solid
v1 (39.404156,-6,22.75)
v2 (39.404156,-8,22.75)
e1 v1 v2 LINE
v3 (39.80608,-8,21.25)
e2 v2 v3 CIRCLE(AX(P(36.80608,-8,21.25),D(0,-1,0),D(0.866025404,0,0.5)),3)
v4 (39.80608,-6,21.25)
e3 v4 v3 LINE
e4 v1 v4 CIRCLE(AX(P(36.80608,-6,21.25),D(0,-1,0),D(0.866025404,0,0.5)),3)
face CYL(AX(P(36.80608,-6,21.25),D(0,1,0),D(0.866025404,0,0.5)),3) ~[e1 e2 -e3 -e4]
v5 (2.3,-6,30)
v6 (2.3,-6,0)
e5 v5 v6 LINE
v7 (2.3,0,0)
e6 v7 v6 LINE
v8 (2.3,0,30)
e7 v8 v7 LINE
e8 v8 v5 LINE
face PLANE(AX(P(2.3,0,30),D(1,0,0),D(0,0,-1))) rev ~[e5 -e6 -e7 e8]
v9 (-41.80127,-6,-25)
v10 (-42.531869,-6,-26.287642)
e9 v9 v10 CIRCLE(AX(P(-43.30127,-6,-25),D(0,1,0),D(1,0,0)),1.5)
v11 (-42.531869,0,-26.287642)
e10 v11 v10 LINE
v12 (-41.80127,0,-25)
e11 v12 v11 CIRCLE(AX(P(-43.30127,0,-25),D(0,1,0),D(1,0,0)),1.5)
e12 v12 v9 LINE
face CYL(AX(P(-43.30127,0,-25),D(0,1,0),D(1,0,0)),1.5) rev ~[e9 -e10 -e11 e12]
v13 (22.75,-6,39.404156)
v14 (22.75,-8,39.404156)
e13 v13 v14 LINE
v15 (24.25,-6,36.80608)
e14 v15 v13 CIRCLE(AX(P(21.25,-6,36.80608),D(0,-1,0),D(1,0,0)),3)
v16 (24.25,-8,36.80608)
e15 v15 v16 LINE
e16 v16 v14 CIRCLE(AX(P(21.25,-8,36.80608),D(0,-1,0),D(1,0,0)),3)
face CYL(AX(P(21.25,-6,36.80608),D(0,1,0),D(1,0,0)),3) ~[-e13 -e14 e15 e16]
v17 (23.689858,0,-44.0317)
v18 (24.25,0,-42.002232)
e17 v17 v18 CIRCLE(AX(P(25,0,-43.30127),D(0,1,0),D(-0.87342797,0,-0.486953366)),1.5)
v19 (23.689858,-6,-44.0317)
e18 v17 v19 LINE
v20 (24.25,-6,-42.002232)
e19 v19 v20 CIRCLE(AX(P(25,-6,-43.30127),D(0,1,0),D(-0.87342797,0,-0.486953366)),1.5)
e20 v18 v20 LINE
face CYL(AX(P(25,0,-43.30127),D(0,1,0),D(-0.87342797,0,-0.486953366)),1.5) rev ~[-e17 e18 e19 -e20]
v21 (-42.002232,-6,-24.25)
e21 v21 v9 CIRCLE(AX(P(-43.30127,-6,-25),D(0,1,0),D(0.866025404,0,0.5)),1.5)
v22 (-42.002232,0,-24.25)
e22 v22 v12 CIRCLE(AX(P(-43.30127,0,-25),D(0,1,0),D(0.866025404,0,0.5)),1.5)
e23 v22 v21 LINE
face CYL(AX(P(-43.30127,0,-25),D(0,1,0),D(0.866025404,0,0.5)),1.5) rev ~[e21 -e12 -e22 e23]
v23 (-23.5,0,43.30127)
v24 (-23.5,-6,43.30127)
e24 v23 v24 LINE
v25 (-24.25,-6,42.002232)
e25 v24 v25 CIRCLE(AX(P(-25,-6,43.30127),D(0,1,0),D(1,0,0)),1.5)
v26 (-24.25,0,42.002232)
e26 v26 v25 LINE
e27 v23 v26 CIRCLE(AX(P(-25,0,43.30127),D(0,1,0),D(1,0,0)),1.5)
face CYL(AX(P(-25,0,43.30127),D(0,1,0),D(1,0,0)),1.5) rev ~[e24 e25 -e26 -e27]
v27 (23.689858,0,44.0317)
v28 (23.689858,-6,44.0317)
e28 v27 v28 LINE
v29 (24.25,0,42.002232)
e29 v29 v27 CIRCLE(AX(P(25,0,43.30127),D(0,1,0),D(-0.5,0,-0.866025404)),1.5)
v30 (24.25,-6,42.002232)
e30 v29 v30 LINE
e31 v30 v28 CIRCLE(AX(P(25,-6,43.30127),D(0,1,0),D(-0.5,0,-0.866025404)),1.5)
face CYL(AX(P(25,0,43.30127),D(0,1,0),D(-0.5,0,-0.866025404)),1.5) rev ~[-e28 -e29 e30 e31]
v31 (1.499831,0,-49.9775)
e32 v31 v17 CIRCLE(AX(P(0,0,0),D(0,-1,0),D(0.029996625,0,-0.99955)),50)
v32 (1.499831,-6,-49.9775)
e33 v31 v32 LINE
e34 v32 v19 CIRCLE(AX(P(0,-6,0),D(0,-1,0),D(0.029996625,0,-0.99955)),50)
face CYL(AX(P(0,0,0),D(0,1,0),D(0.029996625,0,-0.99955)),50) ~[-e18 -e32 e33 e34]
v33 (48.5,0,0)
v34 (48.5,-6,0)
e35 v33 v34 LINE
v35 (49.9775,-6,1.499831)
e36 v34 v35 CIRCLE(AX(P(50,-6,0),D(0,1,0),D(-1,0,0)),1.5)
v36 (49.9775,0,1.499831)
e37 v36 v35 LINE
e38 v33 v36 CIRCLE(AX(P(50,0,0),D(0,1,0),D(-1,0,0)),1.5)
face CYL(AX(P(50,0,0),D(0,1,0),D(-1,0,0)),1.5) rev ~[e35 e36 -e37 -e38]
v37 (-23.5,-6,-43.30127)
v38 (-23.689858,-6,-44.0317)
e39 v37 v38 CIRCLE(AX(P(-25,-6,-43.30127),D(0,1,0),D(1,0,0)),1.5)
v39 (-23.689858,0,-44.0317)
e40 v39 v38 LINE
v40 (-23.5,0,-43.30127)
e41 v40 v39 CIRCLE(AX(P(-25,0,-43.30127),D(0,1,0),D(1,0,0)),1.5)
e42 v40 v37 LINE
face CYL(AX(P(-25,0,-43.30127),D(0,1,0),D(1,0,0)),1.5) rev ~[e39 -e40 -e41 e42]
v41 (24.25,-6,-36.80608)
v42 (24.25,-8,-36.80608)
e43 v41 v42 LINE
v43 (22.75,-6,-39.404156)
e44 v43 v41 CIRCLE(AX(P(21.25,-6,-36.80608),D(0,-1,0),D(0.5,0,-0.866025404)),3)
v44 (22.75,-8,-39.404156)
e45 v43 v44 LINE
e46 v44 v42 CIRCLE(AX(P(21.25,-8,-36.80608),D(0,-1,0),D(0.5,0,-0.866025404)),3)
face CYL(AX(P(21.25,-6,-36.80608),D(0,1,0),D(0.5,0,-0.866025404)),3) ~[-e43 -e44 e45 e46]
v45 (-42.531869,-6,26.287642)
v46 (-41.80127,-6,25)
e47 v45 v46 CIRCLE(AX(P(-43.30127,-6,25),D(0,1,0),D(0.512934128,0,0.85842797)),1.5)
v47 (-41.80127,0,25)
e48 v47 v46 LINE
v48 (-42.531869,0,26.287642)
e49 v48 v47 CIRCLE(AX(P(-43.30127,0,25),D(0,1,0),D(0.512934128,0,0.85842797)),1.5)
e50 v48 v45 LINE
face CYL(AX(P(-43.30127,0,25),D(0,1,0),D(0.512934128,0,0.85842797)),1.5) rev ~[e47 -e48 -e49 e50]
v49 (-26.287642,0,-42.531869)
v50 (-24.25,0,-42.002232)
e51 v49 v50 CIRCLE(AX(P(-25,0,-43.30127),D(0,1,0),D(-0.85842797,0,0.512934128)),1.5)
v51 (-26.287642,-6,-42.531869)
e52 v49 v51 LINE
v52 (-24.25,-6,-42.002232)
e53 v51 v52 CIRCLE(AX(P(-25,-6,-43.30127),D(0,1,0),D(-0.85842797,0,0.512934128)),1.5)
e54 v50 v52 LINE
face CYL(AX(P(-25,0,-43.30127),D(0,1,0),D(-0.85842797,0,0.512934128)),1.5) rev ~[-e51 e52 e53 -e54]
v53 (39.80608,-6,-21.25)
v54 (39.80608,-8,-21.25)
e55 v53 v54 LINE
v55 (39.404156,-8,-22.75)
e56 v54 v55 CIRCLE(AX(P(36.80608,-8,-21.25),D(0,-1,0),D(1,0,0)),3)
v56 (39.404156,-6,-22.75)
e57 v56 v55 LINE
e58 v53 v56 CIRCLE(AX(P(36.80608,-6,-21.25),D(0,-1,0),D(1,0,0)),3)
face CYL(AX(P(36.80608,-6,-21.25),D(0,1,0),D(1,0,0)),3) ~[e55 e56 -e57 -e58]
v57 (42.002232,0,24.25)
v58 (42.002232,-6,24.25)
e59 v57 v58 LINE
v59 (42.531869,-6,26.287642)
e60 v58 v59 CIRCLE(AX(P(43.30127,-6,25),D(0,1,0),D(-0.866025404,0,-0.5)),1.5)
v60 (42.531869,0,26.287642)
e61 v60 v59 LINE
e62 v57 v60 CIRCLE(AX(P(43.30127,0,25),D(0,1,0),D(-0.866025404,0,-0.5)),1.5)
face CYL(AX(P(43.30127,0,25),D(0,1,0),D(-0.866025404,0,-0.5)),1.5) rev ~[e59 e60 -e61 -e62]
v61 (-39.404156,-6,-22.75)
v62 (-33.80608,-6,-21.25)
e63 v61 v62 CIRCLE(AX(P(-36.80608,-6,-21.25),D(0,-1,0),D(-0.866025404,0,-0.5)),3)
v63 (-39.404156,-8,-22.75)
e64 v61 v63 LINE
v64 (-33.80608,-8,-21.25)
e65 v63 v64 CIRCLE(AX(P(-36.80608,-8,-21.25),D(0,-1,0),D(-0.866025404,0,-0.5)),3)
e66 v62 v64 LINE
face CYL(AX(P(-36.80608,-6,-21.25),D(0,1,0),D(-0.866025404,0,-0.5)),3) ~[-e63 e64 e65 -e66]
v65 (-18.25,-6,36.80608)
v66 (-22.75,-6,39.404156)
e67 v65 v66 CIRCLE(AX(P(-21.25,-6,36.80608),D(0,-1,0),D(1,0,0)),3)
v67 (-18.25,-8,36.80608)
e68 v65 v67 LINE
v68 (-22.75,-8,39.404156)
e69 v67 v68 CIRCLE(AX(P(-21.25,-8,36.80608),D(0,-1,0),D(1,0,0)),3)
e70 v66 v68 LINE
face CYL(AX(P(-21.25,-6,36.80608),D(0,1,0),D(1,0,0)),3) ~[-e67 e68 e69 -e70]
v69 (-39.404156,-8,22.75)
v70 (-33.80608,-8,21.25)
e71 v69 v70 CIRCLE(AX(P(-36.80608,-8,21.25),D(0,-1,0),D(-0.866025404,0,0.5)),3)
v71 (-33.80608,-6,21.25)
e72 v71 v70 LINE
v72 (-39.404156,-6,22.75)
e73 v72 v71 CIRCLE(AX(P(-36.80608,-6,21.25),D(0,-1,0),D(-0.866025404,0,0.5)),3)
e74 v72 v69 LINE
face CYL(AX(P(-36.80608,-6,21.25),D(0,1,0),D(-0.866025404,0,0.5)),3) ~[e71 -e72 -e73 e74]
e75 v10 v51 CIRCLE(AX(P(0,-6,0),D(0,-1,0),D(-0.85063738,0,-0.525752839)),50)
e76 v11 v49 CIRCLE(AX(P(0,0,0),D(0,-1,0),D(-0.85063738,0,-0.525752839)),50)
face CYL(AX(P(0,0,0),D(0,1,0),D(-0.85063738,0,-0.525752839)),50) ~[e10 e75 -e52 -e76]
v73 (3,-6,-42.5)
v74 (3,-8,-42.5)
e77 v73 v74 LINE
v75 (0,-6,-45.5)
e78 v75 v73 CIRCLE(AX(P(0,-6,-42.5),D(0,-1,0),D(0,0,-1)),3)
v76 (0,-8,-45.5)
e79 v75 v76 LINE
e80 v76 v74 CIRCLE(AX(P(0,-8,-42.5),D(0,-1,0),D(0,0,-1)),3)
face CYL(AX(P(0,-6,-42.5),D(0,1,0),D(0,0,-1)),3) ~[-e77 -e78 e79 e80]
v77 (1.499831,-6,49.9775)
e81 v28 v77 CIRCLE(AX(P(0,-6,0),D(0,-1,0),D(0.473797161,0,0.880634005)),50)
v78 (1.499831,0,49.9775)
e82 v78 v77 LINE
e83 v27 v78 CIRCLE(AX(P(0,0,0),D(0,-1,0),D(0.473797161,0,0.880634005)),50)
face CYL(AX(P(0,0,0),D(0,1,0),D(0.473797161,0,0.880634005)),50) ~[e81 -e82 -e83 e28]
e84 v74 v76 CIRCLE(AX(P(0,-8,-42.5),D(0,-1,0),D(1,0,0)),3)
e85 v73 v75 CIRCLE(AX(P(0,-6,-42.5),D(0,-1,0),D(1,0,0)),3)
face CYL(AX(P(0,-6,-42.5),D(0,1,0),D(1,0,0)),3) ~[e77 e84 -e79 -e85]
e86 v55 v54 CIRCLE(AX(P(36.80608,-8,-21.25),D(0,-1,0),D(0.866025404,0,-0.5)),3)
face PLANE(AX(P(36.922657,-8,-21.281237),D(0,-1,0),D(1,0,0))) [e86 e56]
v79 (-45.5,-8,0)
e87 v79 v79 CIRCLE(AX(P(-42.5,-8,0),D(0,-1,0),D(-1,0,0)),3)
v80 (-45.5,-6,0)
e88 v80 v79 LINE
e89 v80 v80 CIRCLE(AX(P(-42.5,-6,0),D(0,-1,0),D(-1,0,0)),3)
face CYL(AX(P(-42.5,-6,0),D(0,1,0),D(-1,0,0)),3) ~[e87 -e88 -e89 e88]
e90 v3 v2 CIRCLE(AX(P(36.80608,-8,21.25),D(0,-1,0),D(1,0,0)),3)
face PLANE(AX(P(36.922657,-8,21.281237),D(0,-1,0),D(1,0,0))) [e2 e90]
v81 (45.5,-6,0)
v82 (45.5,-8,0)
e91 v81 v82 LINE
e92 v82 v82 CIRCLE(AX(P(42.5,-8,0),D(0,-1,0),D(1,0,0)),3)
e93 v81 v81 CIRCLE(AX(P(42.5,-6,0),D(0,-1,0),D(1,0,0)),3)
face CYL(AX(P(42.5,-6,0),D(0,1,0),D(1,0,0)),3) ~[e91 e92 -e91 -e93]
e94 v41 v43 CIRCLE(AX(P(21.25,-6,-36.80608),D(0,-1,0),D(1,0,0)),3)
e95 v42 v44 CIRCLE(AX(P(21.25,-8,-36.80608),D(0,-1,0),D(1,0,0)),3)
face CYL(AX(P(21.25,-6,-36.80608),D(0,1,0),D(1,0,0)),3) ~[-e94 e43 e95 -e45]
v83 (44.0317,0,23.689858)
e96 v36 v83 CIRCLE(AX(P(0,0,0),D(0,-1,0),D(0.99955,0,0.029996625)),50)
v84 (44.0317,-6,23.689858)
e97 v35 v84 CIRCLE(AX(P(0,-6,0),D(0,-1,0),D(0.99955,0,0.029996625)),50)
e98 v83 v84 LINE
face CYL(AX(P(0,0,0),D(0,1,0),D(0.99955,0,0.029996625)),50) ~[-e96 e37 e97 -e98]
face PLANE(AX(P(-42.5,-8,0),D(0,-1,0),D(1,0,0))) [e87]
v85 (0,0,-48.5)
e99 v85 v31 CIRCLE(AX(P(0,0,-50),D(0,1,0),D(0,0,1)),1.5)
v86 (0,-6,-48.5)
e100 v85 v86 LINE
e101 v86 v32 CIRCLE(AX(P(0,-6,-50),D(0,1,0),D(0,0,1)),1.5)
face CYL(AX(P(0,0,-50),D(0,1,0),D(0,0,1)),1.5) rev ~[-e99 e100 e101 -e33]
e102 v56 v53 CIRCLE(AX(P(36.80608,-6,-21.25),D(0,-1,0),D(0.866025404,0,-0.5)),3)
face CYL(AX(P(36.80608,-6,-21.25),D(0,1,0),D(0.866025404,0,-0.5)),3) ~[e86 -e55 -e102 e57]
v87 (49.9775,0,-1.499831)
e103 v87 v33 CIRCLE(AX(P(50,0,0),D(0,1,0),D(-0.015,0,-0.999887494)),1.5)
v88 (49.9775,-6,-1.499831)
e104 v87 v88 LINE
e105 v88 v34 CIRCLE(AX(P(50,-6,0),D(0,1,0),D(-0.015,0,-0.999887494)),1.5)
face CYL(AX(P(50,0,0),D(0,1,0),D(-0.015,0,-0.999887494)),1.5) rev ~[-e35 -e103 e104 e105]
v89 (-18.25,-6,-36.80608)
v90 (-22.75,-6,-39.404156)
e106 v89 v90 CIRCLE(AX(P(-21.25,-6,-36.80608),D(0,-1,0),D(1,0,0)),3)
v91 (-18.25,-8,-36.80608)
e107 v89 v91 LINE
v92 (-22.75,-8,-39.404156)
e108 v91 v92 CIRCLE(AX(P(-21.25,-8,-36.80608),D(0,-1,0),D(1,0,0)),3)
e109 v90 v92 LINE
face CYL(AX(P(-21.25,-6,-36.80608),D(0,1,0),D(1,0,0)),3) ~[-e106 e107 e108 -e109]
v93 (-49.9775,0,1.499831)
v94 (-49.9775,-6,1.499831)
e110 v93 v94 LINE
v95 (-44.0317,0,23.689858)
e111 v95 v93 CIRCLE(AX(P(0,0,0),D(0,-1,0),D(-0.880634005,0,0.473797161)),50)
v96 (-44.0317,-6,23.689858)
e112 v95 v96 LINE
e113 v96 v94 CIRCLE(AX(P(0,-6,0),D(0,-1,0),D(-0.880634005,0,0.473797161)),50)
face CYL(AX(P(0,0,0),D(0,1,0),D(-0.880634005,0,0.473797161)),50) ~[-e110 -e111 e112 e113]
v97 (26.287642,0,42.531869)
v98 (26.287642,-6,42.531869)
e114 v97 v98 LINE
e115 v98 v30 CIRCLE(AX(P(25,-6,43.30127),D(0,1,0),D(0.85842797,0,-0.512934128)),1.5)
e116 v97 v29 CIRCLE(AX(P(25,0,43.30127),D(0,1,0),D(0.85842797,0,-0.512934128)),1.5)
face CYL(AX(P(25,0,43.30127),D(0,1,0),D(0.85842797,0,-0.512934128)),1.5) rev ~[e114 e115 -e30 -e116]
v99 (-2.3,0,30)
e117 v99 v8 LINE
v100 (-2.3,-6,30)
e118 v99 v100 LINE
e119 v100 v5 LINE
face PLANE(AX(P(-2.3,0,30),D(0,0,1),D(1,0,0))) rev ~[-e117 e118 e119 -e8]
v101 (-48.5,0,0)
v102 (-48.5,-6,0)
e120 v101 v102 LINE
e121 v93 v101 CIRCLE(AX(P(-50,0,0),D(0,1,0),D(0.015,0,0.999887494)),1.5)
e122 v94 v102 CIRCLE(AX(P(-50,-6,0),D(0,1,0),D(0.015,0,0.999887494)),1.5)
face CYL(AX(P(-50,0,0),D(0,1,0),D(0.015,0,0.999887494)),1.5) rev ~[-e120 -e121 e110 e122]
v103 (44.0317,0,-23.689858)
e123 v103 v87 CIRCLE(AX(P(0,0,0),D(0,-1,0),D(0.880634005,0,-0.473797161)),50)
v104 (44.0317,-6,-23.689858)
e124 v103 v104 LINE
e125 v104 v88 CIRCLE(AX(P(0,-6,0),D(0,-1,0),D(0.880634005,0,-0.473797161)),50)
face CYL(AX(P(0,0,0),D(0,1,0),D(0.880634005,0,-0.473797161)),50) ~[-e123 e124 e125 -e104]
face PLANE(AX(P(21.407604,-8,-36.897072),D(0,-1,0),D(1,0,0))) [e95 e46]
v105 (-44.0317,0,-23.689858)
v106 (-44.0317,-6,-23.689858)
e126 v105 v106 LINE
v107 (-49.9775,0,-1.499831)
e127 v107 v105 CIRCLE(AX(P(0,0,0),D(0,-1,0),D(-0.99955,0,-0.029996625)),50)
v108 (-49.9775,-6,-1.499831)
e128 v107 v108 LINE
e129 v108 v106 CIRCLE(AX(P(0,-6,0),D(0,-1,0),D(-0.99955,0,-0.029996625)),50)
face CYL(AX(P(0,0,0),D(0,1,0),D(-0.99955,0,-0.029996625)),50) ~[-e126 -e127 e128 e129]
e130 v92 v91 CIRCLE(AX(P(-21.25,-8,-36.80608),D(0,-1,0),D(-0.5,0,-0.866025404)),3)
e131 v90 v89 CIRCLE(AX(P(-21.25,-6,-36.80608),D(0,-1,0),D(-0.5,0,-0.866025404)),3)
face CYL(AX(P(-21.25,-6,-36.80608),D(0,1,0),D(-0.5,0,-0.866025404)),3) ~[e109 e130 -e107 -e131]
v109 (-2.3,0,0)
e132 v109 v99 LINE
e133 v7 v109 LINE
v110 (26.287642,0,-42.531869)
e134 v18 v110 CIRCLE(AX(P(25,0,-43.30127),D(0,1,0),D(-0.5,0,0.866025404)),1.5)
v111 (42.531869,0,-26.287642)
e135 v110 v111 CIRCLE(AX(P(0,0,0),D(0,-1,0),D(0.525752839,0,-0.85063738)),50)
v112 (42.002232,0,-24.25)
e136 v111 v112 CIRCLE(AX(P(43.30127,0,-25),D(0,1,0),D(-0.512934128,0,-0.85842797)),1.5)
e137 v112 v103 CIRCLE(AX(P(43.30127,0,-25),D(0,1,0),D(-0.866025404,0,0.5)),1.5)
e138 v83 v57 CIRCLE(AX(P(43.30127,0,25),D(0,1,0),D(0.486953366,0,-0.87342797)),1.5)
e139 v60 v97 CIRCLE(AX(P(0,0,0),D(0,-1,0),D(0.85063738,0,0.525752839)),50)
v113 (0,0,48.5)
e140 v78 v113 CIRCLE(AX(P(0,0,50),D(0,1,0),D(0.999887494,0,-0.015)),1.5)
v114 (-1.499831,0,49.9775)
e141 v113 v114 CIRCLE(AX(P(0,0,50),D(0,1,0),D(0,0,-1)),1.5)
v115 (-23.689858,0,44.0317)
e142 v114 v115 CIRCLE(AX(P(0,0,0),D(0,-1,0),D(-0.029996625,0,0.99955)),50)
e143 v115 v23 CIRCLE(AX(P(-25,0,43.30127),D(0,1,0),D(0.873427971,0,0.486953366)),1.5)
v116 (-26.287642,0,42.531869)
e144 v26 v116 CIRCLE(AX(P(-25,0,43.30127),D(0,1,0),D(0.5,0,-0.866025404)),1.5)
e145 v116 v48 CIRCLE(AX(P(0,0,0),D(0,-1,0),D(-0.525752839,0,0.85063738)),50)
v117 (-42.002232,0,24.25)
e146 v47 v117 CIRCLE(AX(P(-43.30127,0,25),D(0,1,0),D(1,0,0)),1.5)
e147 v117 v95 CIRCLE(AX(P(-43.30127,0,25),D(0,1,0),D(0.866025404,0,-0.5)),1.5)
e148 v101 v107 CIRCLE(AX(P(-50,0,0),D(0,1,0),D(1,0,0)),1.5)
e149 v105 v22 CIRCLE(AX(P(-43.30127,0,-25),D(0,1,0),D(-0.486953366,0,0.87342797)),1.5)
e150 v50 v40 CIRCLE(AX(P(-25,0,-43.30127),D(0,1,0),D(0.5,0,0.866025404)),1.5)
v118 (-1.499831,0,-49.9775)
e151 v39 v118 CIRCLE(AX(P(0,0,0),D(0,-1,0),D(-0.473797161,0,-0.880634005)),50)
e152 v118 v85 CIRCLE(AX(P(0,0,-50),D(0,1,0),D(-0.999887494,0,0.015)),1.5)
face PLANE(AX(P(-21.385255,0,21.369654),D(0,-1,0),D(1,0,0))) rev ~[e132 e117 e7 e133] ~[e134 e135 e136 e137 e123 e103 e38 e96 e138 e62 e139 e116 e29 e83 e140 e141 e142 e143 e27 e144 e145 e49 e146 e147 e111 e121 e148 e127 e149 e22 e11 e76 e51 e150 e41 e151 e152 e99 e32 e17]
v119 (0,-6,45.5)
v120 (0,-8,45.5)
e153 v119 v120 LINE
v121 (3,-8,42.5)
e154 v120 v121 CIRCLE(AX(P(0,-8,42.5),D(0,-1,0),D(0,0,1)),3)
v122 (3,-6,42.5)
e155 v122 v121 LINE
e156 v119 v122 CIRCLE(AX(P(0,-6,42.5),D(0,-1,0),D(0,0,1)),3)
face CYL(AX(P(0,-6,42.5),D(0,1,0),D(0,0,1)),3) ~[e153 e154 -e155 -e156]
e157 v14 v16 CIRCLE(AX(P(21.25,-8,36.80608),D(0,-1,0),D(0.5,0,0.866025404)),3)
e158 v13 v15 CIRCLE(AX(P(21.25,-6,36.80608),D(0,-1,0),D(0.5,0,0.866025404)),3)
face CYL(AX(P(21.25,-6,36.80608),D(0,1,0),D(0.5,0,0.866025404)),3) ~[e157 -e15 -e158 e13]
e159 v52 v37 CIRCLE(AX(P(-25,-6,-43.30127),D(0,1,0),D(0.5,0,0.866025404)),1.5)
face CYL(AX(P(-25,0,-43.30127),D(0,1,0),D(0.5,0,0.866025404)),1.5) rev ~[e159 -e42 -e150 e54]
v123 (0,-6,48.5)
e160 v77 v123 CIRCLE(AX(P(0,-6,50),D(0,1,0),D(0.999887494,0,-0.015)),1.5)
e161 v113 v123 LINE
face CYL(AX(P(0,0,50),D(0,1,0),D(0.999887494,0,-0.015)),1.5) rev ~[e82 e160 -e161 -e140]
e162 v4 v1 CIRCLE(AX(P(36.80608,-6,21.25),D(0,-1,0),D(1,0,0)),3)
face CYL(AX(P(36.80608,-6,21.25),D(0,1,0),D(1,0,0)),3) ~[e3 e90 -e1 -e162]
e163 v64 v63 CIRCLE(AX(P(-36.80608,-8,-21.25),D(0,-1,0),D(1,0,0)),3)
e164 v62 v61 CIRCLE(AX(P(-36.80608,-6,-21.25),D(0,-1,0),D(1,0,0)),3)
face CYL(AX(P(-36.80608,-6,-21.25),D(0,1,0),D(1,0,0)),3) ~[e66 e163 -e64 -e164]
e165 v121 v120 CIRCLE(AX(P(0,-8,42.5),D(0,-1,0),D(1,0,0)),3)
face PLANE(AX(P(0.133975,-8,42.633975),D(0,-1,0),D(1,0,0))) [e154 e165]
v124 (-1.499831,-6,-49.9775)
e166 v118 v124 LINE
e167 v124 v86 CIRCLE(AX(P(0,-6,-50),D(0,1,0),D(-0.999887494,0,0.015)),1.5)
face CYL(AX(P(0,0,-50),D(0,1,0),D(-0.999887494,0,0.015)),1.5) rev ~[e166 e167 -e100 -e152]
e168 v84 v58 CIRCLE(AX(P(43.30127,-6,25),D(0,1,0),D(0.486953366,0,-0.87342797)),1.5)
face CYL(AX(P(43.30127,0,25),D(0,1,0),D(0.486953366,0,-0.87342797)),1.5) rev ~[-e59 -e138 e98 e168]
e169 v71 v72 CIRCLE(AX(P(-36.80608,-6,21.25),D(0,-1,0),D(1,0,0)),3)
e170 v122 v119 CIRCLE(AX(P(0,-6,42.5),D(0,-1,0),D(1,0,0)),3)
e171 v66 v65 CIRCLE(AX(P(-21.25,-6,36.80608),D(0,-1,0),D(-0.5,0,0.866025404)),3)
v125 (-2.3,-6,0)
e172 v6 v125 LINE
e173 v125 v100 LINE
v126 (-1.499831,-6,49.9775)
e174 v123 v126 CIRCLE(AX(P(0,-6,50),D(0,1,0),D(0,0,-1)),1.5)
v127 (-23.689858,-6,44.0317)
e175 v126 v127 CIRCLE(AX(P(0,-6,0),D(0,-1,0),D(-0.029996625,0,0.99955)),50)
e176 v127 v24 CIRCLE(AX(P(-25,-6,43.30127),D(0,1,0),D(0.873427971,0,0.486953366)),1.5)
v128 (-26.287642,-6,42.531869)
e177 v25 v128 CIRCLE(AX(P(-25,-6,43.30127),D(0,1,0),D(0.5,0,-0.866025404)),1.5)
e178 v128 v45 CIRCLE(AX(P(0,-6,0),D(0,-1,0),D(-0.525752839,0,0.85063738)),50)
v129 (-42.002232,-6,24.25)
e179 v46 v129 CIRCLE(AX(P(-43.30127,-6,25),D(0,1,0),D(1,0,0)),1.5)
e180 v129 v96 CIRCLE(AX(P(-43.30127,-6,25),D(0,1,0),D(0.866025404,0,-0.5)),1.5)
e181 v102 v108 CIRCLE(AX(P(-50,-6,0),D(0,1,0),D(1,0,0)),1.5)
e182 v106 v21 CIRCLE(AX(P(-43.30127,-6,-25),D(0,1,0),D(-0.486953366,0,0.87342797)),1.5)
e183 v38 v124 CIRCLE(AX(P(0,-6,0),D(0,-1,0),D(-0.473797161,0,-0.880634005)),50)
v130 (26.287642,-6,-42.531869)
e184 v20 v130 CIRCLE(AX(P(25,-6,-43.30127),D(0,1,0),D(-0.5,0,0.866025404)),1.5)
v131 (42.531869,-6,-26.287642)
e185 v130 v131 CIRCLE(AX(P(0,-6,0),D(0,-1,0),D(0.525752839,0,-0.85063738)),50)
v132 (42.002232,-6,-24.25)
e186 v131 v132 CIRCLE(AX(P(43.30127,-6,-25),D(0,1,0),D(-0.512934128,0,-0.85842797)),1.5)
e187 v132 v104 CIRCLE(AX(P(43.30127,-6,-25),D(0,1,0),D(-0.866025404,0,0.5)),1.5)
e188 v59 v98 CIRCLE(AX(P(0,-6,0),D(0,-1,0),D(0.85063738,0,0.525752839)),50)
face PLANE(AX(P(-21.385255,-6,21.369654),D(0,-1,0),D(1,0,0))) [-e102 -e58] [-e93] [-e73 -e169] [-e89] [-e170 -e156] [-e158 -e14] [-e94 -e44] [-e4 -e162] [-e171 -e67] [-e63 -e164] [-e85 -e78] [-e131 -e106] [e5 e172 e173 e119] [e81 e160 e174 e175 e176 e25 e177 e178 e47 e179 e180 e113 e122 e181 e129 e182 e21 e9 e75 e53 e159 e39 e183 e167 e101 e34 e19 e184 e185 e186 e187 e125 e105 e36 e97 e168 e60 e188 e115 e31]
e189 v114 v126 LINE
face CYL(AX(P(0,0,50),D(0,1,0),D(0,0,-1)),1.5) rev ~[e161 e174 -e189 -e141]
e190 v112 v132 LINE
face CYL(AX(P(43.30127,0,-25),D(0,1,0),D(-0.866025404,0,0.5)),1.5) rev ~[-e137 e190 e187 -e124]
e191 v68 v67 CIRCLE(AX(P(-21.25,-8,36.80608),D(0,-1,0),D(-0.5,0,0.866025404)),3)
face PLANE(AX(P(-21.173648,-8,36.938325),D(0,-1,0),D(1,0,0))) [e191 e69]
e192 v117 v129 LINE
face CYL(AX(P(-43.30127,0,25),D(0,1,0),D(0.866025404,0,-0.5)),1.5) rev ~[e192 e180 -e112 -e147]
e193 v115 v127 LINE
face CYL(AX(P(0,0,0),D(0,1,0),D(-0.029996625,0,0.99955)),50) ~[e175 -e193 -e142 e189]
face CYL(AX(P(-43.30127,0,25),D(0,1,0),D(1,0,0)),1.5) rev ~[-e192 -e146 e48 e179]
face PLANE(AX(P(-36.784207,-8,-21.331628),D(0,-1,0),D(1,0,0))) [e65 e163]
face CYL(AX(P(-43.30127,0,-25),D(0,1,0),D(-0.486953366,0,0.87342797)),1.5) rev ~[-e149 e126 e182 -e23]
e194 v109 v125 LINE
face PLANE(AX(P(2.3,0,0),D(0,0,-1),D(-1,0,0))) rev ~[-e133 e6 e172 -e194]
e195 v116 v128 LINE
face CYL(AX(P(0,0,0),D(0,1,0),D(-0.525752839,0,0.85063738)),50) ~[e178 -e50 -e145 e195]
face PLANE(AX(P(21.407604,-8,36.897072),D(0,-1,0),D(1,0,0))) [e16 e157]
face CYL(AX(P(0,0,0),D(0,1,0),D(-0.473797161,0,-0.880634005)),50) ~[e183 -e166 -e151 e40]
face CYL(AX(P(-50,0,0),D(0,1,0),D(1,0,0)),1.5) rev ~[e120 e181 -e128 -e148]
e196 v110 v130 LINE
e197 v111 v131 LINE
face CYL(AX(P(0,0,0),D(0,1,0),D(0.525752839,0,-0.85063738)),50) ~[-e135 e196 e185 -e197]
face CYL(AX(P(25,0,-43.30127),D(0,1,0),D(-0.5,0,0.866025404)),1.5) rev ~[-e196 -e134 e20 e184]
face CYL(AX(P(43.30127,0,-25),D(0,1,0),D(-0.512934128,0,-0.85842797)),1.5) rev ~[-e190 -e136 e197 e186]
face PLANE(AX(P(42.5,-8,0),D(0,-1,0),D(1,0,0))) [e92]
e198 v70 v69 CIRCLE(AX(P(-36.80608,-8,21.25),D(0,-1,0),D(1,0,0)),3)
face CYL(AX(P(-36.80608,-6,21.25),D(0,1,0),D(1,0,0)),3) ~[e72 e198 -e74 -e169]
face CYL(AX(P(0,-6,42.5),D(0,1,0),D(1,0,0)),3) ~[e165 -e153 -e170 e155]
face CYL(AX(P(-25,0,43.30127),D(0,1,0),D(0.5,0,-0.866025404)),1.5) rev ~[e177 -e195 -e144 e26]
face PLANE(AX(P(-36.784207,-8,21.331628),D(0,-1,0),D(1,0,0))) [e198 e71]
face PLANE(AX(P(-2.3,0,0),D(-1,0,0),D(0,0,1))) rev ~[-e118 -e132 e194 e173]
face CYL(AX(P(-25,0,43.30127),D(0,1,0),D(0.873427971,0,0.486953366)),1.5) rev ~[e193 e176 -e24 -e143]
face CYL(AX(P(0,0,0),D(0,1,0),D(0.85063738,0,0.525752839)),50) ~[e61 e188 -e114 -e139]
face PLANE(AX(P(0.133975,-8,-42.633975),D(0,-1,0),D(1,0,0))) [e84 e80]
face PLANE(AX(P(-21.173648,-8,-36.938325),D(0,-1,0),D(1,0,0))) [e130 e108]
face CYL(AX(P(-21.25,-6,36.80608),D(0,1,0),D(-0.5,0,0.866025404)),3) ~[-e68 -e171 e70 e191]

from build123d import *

# Parameters (mm, degrees)
F1_DEPTH = 6
F2_R     = 3
F3_DEPTH = 2


with BuildPart() as f1:
    # F0 (on Front) → F1 (new body)
    with BuildSketch(Plane.XZ):
        with BuildLine():
            Line((-42.0022320835, 24.25), (-2.3, 1.3279056191))
            Line((-2.3, 1.3279056191), (-2.3, 3.9837168574))
            Line((-2.3, 3.9837168574), (-24.25, 42.0022320835))
            ThreePointArc((-24.25, 42.0022320835), (-25.3773506768, 41.8495104065), (-26.2876419557, 42.5318689974))
            ThreePointArc((-26.2876419557, 42.5318689974), (-35.3553390593, 35.3553390593), (-42.5318689974, 26.2876419557))
            ThreePointArc((-42.5318689974, 26.2876419557), (-41.9966434633, 25.7402358449), (-41.8012701892, 25))
            ThreePointArc((-41.8012701892, 25), (-41.8523814498, 24.6117714323), (-42.0022320835, 24.25))
        make_face()
        with BuildLine():
            Line((-2.3, 30), (0, 30))
            Line((0, 30), (0, 48.5))
            ThreePointArc((0, 48.5), (-1.0526751636, 48.9314144863), (-1.4998312405, 49.9775))
            ThreePointArc((-1.4998312405, 49.9775), (-12.9409522551, 48.2962913145), (-23.6898580443, 44.0317002379))
            ThreePointArc((-23.6898580443, 44.0317002379), (-23.5482402173, 43.678620866), (-23.5, 43.3012701892))
            ThreePointArc((-23.5, 43.3012701892), (-23.7009618943, 42.5512701892), (-24.25, 42.0022320835))
            Line((-24.25, 42.0022320835), (-2.3, 3.9837168574))
            Line((-2.3, 3.9837168574), (-2.3, 30))
        make_face()
        with BuildLine():
            Line((0, 48.5), (0, 30))
            Line((0, 30), (2.3, 30))
            Line((2.3, 30), (2.3, 3.9837168574))
            Line((2.3, 3.9837168574), (24.25, 42.0022320835))
            ThreePointArc((24.25, 42.0022320835), (23.5540638096, 42.9021855701), (23.6898580443, 44.0317002379))
            ThreePointArc((23.6898580443, 44.0317002379), (12.9409522551, 48.2962913145), (1.4998312405, 49.9775))
            ThreePointArc((1.4998312405, 49.9775), (1.0526751636, 48.9314144863), (0, 48.5))
        make_face()
        with BuildLine():
            Line((2.3, 1.3279056191), (42.0022320835, 24.25))
            ThreePointArc((42.0022320835, 24.25), (41.8495104065, 25.3773506768), (42.5318689974, 26.2876419557))
            ThreePointArc((42.5318689974, 26.2876419557), (35.3553390593, 35.3553390593), (26.2876419557, 42.5318689974))
            ThreePointArc((26.2876419557, 42.5318689974), (25.3773506768, 41.8495104065), (24.25, 42.0022320835))
            Line((24.25, 42.0022320835), (2.3, 3.9837168574))
            Line((2.3, 3.9837168574), (2.3, 1.3279056191))
        make_face()
        with BuildLine():
            ThreePointArc((48.5, 0), (48.9314144863, 1.0526751636), (49.9775, 1.4998312405))
            ThreePointArc((49.9775, 1.4998312405), (48.2962913145, 12.9409522551), (44.0317002379, 23.6898580443))
            ThreePointArc((44.0317002379, 23.6898580443), (42.9021855701, 23.5540638096), (42.0022320835, 24.25))
            Line((42.0022320835, 24.25), (2.3, 1.3279056191))
            Line((2.3, 1.3279056191), (2.3, 0))
            Line((2.3, 0), (48.5, 0))
        make_face()
        with BuildLine():
            ThreePointArc((44.0317002379, -23.6898580443), (48.2962913145, -12.9409522551), (49.9775, -1.4998312405))
            ThreePointArc((49.9775, -1.4998312405), (48.9314144863, -1.0526751636), (48.5, 0))
            Line((48.5, 0), (2.3, 0))
            Line((2.3, 0), (0, 0))
            Line((0, 0), (42.0022320835, -24.25))
            ThreePointArc((42.0022320835, -24.25), (42.9021855701, -23.5540638096), (44.0317002379, -23.6898580443))
        make_face()
        with BuildLine():
            ThreePointArc((42.5318689974, -26.2876419557), (41.8495104065, -25.3773506768), (42.0022320835, -24.25))
            Line((42.0022320835, -24.25), (0, 0))
            Line((0, 0), (24.25, -42.0022320835))
            ThreePointArc((24.25, -42.0022320835), (25.3773506768, -41.8495104065), (26.2876419557, -42.5318689974))
            ThreePointArc((26.2876419557, -42.5318689974), (35.3553390593, -35.3553390593), (42.5318689974, -26.2876419557))
        make_face()
        with BuildLine():
            Line((24.25, -42.0022320835), (0, 0))
            Line((0, 0), (0, -48.5))
            ThreePointArc((0, -48.5), (1.0526751636, -48.9314144863), (1.4998312405, -49.9775))
            ThreePointArc((1.4998312405, -49.9775), (12.9409522551, -48.2962913145), (23.6898580443, -44.0317002379))
            ThreePointArc((23.6898580443, -44.0317002379), (23.5540638096, -42.9021855701), (24.25, -42.0022320835))
        make_face()
        with BuildLine():
            Line((0, -48.5), (0, 0))
            Line((0, 0), (-24.25, -42.0022320835))
            ThreePointArc((-24.25, -42.0022320835), (-23.7009618943, -42.5512701892), (-23.5, -43.3012701892))
            ThreePointArc((-23.5, -43.3012701892), (-23.5482402173, -43.678620866), (-23.6898580443, -44.0317002379))
            ThreePointArc((-23.6898580443, -44.0317002379), (-12.9409522551, -48.2962913145), (-1.4998312405, -49.9775))
            ThreePointArc((-1.4998312405, -49.9775), (-1.0526751636, -48.9314144863), (0, -48.5))
        make_face()
        with BuildLine():
            Line((-24.25, -42.0022320835), (0, 0))
            Line((0, 0), (-42.0022320835, -24.25))
            ThreePointArc((-42.0022320835, -24.25), (-41.8523814498, -24.6117714323), (-41.8012701892, -25))
            ThreePointArc((-41.8012701892, -25), (-41.9966434633, -25.7402358449), (-42.5318689974, -26.2876419557))
            ThreePointArc((-42.5318689974, -26.2876419557), (-35.3553390593, -35.3553390593), (-26.2876419557, -42.5318689974))
            ThreePointArc((-26.2876419557, -42.5318689974), (-25.3773506768, -41.8495104065), (-24.25, -42.0022320835))
        make_face()
        with BuildLine():
            Line((-42.0022320835, -24.25), (0, 0))
            Line((0, 0), (-2.3, 0))
            Line((-2.3, 0), (-48.5, 0))
            ThreePointArc((-48.5, 0), (-48.9314144863, -1.0526751636), (-49.9775, -1.4998312405))
            ThreePointArc((-49.9775, -1.4998312405), (-48.2962913145, -12.9409522551), (-44.0317002379, -23.6898580443))
            ThreePointArc((-44.0317002379, -23.6898580443), (-42.9021855701, -23.5540638096), (-42.0022320835, -24.25))
        make_face()
        with BuildLine():
            Line((-48.5, 0), (-2.3, 0))
            Line((-2.3, 0), (-2.3, 1.3279056191))
            Line((-2.3, 1.3279056191), (-42.0022320835, 24.25))
            ThreePointArc((-42.0022320835, 24.25), (-42.9021855701, 23.5540638096), (-44.0317002379, 23.6898580443))
            ThreePointArc((-44.0317002379, 23.6898580443), (-48.2962913145, 12.9409522551), (-49.9775, 1.4998312405))
            ThreePointArc((-49.9775, 1.4998312405), (-48.9314144863, 1.0526751636), (-48.5, 0))
        make_face()
    extrude(amount=F1_DEPTH)

    # F2 (on face) → F3 (join)
    with BuildSketch(Plane.XZ.offset(6)):
        with BuildLine():
            ThreePointArc((3, 42.5), (2.1213203436, 44.6213203436), (0, 45.5))
            ThreePointArc((0, 45.5), (-2.1213203436, 40.3786796564), (3, 42.5))
        make_face()
        with BuildLine():
            ThreePointArc((24.25, 36.8060796608), (23.8480762114, 38.3060796608), (22.75, 39.4041558722))
            ThreePointArc((22.75, 39.4041558722), (18.6519237886, 35.3060796608), (24.25, 36.8060796608))
        make_face()
        with BuildLine():
            ThreePointArc((39.8060796608, 21.25), (39.7038571397, 22.0264571353), (39.4041558722, 22.75))
            ThreePointArc((39.4041558722, 22.75), (33.908302182, 20.4735428647), (39.8060796608, 21.25))
        make_face()
        with Locations((42.5, 0)):
            Circle(F2_R)
        with BuildLine():
            ThreePointArc((39.8060796608, -21.25), (33.908302182, -20.4735428647), (39.4041558722, -22.75))
            ThreePointArc((39.4041558722, -22.75), (39.7038571397, -22.0264571353), (39.8060796608, -21.25))
        make_face()
        with BuildLine():
            ThreePointArc((24.25, -36.8060796608), (18.6519237886, -35.3060796608), (22.75, -39.4041558722))
            ThreePointArc((22.75, -39.4041558722), (23.8480762114, -38.3060796608), (24.25, -36.8060796608))
        make_face()
        with BuildLine():
            ThreePointArc((3, -42.5), (-2.1213203436, -40.3786796564), (0, -45.5))
            ThreePointArc((0, -45.5), (2.1213203436, -44.6213203436), (3, -42.5))
        make_face()
        with BuildLine():
            ThreePointArc((-18.25, -36.8060796608), (-22.75, -34.2080034495), (-22.75, -39.4041558722))
            ThreePointArc((-22.75, -39.4041558722), (-19.75, -39.4041558722), (-18.25, -36.8060796608))
        make_face()
        with BuildLine():
            ThreePointArc((-33.8060796608, -21.25), (-37.5825367961, -18.3522225211), (-39.4041558722, -22.75))
            ThreePointArc((-39.4041558722, -22.75), (-36.0296225255, -24.1477774789), (-33.8060796608, -21.25))
        make_face()
        with BuildLine():
            ThreePointArc((-39.5, 0), (-42.5, 3), (-45.5, 0))
            ThreePointArc((-45.5, 0), (-42.5, -3), (-39.5, 0))
        make_face()
        with BuildLine():
            ThreePointArc((-33.8060796608, 21.25), (-36.0296225255, 24.1477774789), (-39.4041558722, 22.75))
            ThreePointArc((-39.4041558722, 22.75), (-37.5825367961, 18.3522225211), (-33.8060796608, 21.25))
        make_face()
        with BuildLine():
            ThreePointArc((-18.25, 36.8060796608), (-19.75, 39.4041558722), (-22.75, 39.4041558722))
            ThreePointArc((-22.75, 39.4041558722), (-22.75, 34.2080034495), (-18.25, 36.8060796608))
        make_face()
    extrude(amount=F3_DEPTH)


solid = f1.part
